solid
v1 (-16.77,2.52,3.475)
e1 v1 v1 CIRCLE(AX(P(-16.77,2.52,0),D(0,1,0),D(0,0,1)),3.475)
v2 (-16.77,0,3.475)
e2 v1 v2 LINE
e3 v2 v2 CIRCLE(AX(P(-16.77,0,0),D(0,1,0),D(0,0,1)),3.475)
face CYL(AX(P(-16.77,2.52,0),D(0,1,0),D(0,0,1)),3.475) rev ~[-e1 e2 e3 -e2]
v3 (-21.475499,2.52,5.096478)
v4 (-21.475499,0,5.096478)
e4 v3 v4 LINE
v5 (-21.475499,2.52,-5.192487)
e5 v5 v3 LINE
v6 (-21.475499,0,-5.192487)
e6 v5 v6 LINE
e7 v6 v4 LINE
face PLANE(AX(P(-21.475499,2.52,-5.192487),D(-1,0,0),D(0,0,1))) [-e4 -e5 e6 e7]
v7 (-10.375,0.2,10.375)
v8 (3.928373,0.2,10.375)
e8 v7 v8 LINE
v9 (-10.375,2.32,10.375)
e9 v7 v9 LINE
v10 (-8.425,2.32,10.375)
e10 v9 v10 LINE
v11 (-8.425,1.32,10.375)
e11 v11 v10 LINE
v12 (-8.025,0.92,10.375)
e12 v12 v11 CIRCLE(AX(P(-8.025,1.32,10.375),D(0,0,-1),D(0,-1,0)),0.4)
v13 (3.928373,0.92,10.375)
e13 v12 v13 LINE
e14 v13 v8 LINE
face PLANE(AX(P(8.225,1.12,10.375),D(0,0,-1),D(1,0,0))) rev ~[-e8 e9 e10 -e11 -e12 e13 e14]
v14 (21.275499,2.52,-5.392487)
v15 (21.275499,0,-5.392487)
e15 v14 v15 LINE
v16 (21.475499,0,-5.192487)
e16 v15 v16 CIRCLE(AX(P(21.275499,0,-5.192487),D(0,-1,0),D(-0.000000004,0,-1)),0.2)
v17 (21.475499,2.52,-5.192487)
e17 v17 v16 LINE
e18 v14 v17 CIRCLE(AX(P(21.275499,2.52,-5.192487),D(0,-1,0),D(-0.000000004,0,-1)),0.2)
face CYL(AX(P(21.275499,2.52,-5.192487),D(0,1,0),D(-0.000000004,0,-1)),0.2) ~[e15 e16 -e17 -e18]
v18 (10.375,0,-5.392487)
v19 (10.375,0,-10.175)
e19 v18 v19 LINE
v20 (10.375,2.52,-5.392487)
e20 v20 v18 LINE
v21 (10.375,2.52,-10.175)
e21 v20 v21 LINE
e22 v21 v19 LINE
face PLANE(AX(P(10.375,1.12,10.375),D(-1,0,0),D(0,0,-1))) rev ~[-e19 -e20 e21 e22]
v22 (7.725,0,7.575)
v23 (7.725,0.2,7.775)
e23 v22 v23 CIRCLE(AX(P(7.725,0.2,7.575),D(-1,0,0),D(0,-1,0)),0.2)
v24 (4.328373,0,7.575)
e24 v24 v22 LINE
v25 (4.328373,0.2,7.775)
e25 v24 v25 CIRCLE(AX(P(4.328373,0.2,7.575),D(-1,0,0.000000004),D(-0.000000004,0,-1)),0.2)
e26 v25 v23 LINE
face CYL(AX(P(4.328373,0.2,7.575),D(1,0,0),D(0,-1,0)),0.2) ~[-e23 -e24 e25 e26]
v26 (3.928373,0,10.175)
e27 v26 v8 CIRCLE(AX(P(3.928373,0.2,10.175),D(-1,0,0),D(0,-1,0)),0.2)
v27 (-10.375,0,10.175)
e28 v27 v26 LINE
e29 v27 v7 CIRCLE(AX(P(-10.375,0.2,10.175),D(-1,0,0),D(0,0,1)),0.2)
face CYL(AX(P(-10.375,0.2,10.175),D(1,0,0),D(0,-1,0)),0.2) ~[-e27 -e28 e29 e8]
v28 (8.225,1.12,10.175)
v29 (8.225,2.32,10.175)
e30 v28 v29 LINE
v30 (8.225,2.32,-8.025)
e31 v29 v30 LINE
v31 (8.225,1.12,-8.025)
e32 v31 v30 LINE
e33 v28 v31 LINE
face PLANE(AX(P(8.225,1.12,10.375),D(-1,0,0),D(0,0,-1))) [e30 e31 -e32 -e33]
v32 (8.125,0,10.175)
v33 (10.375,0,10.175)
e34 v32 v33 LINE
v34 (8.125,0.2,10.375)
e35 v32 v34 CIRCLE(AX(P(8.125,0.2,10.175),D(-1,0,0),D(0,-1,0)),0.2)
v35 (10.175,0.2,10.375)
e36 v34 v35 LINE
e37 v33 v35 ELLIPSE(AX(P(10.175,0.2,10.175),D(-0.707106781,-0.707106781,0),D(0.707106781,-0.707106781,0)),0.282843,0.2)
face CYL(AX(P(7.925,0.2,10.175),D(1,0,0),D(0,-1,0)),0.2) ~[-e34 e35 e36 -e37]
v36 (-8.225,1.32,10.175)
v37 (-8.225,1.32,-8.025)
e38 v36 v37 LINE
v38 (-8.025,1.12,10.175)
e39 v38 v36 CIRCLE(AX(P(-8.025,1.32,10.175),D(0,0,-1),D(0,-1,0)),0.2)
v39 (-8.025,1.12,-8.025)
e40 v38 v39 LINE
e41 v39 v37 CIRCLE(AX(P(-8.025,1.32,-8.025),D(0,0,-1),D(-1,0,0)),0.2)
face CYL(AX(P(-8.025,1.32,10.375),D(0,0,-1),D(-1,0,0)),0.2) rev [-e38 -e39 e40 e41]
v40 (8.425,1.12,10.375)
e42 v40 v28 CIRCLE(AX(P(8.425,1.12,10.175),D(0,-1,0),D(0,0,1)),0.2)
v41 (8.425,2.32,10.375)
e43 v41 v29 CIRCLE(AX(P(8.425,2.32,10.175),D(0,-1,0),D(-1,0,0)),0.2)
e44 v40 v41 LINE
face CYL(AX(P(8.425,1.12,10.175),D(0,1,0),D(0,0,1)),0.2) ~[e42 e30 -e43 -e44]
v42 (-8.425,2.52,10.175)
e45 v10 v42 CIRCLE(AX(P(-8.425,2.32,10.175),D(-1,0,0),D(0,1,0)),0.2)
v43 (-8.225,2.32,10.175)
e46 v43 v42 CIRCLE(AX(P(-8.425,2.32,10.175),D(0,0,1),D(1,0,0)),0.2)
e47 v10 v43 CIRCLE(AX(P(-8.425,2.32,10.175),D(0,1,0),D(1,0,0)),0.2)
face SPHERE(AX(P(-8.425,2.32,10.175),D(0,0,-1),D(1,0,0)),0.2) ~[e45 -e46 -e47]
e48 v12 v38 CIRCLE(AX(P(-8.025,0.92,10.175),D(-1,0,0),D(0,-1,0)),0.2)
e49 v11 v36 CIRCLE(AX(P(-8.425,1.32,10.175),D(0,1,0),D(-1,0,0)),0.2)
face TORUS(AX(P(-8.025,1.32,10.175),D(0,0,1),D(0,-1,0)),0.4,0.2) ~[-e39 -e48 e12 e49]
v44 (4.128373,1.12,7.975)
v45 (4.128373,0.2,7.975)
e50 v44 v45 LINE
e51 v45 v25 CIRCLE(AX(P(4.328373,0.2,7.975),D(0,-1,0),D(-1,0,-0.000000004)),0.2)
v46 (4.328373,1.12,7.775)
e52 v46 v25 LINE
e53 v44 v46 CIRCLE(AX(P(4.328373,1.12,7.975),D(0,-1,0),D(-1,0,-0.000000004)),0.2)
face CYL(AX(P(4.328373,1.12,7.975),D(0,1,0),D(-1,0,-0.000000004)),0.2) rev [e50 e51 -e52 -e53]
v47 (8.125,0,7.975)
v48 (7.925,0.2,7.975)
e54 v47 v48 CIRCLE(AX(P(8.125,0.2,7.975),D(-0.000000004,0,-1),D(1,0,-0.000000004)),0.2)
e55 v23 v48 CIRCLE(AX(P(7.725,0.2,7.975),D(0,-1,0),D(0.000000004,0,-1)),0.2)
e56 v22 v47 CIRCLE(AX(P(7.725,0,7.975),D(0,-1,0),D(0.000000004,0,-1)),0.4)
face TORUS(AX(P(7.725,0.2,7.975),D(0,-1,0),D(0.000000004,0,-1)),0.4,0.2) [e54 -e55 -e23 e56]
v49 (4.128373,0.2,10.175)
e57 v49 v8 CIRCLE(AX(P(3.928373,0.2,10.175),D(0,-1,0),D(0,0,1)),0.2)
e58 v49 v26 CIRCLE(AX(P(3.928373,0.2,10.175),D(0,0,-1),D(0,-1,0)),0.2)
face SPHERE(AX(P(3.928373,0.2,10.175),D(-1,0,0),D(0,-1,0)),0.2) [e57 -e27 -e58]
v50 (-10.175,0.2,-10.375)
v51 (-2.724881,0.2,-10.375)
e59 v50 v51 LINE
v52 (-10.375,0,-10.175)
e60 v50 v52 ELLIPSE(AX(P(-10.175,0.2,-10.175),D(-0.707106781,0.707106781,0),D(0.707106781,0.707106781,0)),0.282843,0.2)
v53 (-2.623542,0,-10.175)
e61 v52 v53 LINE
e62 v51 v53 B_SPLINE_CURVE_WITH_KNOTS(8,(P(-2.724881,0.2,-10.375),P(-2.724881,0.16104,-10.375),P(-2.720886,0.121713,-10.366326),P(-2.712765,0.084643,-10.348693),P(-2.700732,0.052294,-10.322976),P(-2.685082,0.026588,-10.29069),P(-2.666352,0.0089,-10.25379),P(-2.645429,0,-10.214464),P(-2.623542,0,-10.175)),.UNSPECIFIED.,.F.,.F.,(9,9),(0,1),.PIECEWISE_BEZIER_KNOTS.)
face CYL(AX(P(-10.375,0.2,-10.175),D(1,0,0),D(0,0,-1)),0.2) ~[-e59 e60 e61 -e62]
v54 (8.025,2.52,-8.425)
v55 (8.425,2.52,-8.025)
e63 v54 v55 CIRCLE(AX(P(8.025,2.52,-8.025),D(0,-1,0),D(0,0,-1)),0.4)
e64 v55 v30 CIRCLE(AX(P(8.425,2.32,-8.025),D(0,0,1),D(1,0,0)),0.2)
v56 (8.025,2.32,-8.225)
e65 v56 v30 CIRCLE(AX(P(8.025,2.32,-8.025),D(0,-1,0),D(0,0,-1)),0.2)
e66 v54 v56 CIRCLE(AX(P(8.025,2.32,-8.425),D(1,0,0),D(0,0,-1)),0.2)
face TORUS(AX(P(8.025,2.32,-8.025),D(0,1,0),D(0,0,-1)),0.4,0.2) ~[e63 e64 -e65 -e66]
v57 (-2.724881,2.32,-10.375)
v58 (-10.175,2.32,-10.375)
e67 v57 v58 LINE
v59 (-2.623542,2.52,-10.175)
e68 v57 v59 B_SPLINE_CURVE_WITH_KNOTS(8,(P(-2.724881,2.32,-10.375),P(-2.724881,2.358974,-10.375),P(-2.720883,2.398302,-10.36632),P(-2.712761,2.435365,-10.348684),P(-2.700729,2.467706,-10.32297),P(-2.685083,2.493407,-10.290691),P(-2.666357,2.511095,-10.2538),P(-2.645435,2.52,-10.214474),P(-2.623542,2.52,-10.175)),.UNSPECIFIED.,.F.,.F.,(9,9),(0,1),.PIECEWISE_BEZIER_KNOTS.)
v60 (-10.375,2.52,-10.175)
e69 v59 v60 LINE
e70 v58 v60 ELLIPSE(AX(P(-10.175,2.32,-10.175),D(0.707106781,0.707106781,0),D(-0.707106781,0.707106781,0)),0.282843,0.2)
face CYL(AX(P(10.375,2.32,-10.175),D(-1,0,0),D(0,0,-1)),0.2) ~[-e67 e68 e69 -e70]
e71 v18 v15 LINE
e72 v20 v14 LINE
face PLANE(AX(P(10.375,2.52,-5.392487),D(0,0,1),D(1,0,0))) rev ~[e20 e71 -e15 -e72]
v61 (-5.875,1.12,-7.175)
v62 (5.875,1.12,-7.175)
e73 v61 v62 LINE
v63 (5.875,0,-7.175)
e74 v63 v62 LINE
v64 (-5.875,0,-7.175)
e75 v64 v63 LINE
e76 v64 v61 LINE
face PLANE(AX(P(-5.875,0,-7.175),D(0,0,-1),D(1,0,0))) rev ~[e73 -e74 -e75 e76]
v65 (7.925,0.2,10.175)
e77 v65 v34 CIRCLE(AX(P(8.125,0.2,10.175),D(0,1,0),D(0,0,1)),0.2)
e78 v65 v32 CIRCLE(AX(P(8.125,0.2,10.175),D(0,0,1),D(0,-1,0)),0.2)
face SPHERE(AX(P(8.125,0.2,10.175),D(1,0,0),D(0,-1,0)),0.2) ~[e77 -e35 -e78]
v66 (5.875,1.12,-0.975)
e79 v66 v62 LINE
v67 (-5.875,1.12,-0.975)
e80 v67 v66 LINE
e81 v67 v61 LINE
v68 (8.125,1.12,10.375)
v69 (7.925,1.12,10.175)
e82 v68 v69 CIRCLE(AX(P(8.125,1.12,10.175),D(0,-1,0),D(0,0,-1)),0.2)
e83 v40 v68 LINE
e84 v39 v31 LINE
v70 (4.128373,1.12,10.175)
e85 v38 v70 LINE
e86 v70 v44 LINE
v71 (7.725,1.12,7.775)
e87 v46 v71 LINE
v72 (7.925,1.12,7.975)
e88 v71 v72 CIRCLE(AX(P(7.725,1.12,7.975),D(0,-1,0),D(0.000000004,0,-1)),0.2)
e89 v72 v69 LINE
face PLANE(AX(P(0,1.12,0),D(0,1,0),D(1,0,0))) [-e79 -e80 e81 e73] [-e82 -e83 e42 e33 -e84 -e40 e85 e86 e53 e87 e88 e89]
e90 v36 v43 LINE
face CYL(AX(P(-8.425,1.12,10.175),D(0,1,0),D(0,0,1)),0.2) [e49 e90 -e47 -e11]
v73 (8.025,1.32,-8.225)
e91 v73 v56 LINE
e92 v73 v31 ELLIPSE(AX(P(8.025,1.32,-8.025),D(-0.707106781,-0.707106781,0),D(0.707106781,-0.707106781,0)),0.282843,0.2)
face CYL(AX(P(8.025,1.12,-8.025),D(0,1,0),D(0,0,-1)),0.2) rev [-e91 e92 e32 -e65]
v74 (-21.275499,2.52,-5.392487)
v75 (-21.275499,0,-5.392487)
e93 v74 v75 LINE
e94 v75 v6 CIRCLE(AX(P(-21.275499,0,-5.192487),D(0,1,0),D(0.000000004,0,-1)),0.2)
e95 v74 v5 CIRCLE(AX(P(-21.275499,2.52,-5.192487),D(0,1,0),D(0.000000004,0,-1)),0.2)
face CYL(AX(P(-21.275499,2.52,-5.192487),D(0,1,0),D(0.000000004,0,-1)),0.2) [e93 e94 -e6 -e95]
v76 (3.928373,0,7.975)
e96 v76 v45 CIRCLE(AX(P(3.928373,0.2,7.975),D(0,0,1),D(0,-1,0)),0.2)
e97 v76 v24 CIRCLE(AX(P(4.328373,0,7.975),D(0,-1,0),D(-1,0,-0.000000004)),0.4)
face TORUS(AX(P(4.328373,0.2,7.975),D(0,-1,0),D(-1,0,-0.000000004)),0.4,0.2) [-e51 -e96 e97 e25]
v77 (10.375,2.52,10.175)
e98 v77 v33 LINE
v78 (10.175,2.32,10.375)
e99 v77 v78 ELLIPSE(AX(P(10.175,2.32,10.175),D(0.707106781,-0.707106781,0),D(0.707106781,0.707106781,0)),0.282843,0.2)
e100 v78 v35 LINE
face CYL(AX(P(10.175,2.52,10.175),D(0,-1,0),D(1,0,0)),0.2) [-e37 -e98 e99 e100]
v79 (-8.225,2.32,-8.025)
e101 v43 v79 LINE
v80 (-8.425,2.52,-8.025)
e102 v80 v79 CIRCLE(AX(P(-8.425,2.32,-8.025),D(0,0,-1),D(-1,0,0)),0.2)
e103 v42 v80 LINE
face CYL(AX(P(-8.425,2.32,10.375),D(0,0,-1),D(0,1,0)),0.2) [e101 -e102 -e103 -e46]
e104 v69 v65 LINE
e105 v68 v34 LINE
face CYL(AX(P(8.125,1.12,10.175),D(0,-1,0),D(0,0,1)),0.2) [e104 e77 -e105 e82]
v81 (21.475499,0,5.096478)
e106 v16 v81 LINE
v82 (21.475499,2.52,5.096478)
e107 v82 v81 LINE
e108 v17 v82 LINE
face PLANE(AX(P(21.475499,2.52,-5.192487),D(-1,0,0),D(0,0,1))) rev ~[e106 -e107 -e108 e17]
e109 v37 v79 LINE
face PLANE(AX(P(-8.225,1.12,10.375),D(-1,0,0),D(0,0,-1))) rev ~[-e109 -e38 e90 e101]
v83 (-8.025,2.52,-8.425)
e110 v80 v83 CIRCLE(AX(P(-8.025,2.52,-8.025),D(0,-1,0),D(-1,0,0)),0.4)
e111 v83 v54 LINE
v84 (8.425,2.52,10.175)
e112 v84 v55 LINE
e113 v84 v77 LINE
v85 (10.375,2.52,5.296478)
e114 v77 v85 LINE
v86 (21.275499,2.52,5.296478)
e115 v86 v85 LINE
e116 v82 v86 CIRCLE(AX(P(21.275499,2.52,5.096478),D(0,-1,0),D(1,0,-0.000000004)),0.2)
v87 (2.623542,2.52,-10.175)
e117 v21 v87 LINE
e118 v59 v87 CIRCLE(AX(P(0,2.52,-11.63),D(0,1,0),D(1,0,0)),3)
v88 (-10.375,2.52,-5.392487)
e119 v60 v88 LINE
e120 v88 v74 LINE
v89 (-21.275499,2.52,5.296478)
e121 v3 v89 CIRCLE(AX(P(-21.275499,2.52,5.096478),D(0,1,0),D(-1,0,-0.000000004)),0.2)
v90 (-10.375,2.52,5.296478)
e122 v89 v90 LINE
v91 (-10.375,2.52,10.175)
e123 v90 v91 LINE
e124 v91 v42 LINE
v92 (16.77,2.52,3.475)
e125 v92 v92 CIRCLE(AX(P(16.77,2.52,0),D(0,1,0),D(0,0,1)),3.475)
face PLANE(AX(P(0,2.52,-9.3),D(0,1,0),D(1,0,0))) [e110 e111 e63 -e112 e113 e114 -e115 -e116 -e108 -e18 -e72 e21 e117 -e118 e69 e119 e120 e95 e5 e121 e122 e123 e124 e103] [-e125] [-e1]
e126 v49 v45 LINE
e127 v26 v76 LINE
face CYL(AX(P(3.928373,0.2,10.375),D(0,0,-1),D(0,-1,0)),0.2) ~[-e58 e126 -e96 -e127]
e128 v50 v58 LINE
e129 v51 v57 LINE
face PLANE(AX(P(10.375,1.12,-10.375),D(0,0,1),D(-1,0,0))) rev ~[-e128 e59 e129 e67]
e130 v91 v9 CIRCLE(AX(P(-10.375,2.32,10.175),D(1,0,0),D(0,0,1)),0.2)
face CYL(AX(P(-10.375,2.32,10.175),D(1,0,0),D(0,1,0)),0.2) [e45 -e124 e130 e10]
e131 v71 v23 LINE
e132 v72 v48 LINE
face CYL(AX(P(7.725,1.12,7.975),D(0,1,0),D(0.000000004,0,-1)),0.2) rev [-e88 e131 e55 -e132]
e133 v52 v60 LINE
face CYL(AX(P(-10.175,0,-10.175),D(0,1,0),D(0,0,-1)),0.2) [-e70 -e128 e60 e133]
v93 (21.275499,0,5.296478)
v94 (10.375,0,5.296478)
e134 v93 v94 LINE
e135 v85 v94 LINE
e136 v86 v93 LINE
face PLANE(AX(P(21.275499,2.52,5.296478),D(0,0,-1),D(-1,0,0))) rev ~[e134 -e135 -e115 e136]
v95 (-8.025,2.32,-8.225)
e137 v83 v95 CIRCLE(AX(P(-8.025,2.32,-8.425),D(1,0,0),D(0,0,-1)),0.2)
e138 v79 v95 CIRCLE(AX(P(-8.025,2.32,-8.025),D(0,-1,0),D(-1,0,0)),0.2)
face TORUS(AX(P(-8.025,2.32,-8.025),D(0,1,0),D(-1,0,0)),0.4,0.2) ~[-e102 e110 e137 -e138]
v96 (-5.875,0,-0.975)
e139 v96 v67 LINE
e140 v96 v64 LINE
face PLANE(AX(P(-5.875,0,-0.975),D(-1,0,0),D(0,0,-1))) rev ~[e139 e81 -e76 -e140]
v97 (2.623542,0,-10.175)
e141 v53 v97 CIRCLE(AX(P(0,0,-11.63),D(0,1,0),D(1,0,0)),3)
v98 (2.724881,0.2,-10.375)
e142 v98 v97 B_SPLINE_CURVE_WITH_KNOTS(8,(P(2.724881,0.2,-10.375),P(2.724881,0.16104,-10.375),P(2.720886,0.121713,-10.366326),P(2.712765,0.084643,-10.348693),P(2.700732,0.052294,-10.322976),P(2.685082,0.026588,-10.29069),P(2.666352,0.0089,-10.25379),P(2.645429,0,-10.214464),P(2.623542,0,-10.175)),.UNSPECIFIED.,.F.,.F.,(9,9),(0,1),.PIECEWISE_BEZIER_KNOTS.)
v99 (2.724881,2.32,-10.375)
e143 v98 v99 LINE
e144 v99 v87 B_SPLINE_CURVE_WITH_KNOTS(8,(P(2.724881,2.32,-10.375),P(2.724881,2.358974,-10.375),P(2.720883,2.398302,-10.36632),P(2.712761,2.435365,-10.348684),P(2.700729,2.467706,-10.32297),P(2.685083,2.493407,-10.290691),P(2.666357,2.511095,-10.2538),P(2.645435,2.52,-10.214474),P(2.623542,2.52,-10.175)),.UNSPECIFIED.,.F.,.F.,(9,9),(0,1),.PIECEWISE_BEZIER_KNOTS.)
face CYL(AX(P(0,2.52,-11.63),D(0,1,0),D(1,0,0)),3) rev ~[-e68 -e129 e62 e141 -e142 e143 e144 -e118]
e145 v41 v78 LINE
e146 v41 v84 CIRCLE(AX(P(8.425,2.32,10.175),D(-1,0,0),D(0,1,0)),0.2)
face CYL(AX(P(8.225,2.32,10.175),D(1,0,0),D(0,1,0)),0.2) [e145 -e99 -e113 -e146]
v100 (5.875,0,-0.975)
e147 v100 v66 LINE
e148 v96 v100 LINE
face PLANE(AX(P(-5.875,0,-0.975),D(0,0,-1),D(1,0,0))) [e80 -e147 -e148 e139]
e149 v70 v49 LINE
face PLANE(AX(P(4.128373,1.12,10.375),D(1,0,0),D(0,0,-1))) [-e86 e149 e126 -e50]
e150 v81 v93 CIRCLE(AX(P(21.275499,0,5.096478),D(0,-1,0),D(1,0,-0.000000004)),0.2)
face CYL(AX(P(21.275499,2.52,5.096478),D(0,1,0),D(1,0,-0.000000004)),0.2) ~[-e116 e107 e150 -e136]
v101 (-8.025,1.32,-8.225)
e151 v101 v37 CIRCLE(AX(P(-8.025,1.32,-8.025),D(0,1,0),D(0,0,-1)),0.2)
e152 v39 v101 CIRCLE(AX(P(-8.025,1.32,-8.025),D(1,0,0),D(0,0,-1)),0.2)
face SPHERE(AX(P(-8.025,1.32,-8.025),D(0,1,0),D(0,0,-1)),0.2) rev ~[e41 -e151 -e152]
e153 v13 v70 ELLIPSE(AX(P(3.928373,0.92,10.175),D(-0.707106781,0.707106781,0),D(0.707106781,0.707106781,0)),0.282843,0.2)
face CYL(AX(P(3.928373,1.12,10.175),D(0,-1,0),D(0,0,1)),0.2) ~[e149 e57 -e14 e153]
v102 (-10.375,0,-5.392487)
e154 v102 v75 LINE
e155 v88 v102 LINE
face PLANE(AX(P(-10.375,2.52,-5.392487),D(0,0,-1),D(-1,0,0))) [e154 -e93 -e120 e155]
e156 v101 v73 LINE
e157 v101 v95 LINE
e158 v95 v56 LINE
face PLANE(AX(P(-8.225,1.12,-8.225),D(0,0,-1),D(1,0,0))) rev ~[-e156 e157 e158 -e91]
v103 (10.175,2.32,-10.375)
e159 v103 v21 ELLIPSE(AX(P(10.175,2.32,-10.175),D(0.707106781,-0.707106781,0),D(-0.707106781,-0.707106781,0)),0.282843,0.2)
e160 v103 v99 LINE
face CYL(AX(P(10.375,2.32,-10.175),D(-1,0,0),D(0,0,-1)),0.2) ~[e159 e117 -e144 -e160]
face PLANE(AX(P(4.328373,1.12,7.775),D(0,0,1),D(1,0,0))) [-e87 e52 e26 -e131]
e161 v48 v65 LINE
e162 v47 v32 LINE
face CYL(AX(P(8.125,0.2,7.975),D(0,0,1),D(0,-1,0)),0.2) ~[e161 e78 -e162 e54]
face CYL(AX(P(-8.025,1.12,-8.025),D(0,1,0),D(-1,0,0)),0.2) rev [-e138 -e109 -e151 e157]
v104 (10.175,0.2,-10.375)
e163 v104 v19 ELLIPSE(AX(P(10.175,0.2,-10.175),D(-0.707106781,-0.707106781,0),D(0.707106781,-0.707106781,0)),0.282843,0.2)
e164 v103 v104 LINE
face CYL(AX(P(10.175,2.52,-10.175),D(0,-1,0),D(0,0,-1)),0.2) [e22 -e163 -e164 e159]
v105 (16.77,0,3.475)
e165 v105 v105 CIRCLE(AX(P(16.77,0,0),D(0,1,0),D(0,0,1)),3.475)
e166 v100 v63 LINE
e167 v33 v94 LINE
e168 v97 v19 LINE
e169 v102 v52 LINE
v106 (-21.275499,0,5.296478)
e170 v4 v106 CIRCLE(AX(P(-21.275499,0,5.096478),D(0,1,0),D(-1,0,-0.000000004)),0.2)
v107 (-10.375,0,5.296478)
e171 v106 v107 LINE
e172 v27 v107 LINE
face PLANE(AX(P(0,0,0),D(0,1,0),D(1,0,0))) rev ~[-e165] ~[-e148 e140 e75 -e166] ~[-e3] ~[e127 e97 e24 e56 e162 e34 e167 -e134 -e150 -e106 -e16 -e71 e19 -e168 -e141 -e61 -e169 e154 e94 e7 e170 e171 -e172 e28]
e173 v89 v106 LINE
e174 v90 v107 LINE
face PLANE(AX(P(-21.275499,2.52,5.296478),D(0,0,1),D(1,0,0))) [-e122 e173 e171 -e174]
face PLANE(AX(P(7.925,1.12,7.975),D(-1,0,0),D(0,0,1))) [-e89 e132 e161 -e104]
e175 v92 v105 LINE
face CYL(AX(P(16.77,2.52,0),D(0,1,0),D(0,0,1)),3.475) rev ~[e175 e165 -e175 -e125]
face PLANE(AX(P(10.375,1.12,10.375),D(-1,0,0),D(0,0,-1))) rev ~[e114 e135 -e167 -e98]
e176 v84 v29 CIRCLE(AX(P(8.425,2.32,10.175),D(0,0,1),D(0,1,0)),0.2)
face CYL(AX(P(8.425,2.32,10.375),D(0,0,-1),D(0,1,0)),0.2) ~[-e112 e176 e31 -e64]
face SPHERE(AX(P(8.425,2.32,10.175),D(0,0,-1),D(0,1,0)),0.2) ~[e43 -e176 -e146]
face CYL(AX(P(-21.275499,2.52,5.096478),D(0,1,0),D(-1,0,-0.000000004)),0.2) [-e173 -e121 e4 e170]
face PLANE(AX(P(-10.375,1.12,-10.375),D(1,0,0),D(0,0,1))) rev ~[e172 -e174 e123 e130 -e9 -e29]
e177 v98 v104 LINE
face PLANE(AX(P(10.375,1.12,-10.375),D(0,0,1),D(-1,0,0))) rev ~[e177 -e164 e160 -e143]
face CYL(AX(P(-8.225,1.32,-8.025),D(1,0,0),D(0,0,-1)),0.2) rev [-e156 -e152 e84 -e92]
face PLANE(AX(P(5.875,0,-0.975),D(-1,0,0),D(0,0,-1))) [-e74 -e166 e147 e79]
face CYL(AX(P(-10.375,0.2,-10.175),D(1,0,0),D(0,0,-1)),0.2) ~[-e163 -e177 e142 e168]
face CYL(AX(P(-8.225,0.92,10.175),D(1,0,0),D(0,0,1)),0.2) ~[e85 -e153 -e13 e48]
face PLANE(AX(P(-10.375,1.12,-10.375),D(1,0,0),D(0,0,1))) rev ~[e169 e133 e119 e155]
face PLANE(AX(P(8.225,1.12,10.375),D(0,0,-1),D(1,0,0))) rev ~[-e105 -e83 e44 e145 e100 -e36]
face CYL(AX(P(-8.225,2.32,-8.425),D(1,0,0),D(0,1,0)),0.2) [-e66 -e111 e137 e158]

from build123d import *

# Parameters (mm, degrees)
SKETCH1_W           = 20.75
SKETCH1_H           = 20.75
SKETCH1_W_2         = 11.75
SKETCH1_H_2         = 6.2
BOSS_EXTRUDE1_DEPTH = 1.12
SKETCH2_W           = 2.15
SKETCH2_H           = 18.6
BOSS_EXTRUDE2_DEPTH = 1.4
CUT_EXTRUDE1_DEPTH  = 15.739106147
FILLET1_R           = 0.2
SKETCH5_R           = 3.475
BOSS_EXTRUDE3_DEPTH = 2.52
SKETCH6_R           = 3
CUT_EXTRUDE2_DEPTH  = 10


with BuildPart() as part:
    # Sketch1 → Boss-Extrude1 (new body)
    with BuildSketch(Plane(origin=(0, 0, 0), x_dir=(1, 0, 0), z_dir=(0, 1, 0))):
        Rectangle(SKETCH1_W, SKETCH1_H)
        with Locations((0, 4.075)):
            Rectangle(SKETCH1_W_2, SKETCH1_H_2, mode=Mode.SUBTRACT)
    extrude(amount=BOSS_EXTRUDE1_DEPTH)

    # Sketch2 → Boss-Extrude2 (add)
    with BuildSketch(Plane(origin=(0, 1.12, 0), x_dir=(1, 0, 0), z_dir=(0, 1, 0))):
        Polygon((10.375, 10.375), (-10.375, 10.375), (-10.375, 8.225), (-8.225, 8.225), (8.225, 8.225), (10.375, 8.225), align=None)
        with Locations((-9.3, -1.075)):
            Rectangle(SKETCH2_W, SKETCH2_H)
        with Locations((9.3, -1.075)):
            Rectangle(SKETCH2_W, SKETCH2_H)
    extrude(amount=BOSS_EXTRUDE2_DEPTH)

    # Sketch3 → Cut-Extrude1 (cut, through all)
    with BuildSketch(Plane(origin=(0, 1.12, 0), x_dir=(1, 0, 0), z_dir=(0, 1, 0))):
        with BuildLine():
            Line((7.925, -10.375), (4.128372784, -10.375))
            Line((4.128372784, -10.375), (4.128372784, -7.975))
            ThreePointArc((4.128372784, -7.975), (4.186951428, -7.833578644), (4.328372784, -7.775))
            Line((4.328372784, -7.775), (7.725, -7.775))
            ThreePointArc((7.725, -7.775), (7.866421356, -7.833578644), (7.925, -7.975))
            Line((7.925, -7.975), (7.925, -10.375))
        make_face()
    extrude(amount=-CUT_EXTRUDE1_DEPTH, mode=Mode.SUBTRACT)

    # Fillet1
    fillet1_edges = [part.edges().sort_by_distance(p)[0] for p in [
        (-2.048313608, 1.12, 10.375),
        (-8.225, 1.82, -8.225),
        (0, 1.12, -8.225),
        (-8.225, 2.52, 1.075),
        (-8.225, 1.82, 10.375),
        (-9.3, 2.52, 10.375),
        (0, 2.52, -8.225),
        (8.225, 2.52, 1.075),
        (0, 2.52, -10.375),
        (-8.225, 1.12, 1.075),
        (8.225, 1.82, -8.225),
        (9.3, 2.52, 10.375),
        (8.225, 1.82, 10.375),
        (-3.123313608, 0, 10.375),
        (0, 0, -10.375),
        (9.15, 0, 10.375),
        (7.925, 0, 9.175),
        (7.925, 0.56, 10.375),
        (4.128372784, 0, 9.175),
        (4.128372784, 0.56, 10.375),
        (4.186951428, 0, 7.833578644),
        (6.026686392, 0, 7.775),
        (7.866421356, 0, 7.833578644),
        (10.375, 1.26, 10.375),
        (-10.375, 1.26, -10.375),
        (10.375, 1.26, -10.375),
    ]]
    fillet(fillet1_edges, radius=FILLET1_R)

    # Sketch5 → Boss-Extrude3 (add)
    # profile 1 of 2: a face of its own
    with BuildSketch(Plane(origin=(0, 2.52, 0), x_dir=(1, 0, 0), z_dir=(0, 1, 0))):
        with BuildLine():
            Line((-10.375, 5.392486931), (-21.275499471, 5.392486931))
            ThreePointArc((-21.275499471, 5.392486931), (-21.416920828, 5.333908287), (-21.475499471, 5.192486931))
            Line((-21.475499471, 5.192486931), (-21.475499471, -5.096478262))
            ThreePointArc((-21.475499471, -5.096478262), (-21.416920828, -5.237899618), (-21.275499471, -5.296478262))
            Line((-21.275499471, -5.296478262), (-10.375, -5.296478262))
            Line((-10.375, -5.296478262), (-10.375, 5.392486931))
        make_face()
        with Locations(Location((-16.77, 0, 0), (0, 0, 270))):
            Circle(SKETCH5_R, mode=Mode.SUBTRACT)
    # profile 2 of 2: a face of its own
    with BuildSketch(Plane(origin=(0, 2.52, 0), x_dir=(1, 0, 0), z_dir=(0, 1, 0))):
        with BuildLine():
            Line((10.375, 5.392486931), (21.275499471, 5.392486931))
            ThreePointArc((21.275499471, 5.392486931), (21.416920828, 5.333908287), (21.475499471, 5.192486931))
            Line((21.475499471, 5.192486931), (21.475499471, -5.096478262))
            ThreePointArc((21.475499471, -5.096478262), (21.416920828, -5.237899618), (21.275499471, -5.296478262))
            Line((21.275499471, -5.296478262), (10.375, -5.296478262))
            Line((10.375, -5.296478262), (10.375, 5.392486931))
        make_face()
        with Locations(Location((16.77, 0, 0), (0, 0, 270))):
            Circle(SKETCH5_R, mode=Mode.SUBTRACT)
    extrude(amount=-BOSS_EXTRUDE3_DEPTH)

    # Sketch6 → Cut-Extrude2 (cut)
    with BuildSketch(Plane(origin=(0, 2.52, 0), x_dir=(1, 0, 0), z_dir=(0, 1, 0))):
        with Locations((0, 11.63)):
            Circle(SKETCH6_R)
    extrude(amount=-CUT_EXTRUDE2_DEPTH, mode=Mode.SUBTRACT)


solid = part.part
